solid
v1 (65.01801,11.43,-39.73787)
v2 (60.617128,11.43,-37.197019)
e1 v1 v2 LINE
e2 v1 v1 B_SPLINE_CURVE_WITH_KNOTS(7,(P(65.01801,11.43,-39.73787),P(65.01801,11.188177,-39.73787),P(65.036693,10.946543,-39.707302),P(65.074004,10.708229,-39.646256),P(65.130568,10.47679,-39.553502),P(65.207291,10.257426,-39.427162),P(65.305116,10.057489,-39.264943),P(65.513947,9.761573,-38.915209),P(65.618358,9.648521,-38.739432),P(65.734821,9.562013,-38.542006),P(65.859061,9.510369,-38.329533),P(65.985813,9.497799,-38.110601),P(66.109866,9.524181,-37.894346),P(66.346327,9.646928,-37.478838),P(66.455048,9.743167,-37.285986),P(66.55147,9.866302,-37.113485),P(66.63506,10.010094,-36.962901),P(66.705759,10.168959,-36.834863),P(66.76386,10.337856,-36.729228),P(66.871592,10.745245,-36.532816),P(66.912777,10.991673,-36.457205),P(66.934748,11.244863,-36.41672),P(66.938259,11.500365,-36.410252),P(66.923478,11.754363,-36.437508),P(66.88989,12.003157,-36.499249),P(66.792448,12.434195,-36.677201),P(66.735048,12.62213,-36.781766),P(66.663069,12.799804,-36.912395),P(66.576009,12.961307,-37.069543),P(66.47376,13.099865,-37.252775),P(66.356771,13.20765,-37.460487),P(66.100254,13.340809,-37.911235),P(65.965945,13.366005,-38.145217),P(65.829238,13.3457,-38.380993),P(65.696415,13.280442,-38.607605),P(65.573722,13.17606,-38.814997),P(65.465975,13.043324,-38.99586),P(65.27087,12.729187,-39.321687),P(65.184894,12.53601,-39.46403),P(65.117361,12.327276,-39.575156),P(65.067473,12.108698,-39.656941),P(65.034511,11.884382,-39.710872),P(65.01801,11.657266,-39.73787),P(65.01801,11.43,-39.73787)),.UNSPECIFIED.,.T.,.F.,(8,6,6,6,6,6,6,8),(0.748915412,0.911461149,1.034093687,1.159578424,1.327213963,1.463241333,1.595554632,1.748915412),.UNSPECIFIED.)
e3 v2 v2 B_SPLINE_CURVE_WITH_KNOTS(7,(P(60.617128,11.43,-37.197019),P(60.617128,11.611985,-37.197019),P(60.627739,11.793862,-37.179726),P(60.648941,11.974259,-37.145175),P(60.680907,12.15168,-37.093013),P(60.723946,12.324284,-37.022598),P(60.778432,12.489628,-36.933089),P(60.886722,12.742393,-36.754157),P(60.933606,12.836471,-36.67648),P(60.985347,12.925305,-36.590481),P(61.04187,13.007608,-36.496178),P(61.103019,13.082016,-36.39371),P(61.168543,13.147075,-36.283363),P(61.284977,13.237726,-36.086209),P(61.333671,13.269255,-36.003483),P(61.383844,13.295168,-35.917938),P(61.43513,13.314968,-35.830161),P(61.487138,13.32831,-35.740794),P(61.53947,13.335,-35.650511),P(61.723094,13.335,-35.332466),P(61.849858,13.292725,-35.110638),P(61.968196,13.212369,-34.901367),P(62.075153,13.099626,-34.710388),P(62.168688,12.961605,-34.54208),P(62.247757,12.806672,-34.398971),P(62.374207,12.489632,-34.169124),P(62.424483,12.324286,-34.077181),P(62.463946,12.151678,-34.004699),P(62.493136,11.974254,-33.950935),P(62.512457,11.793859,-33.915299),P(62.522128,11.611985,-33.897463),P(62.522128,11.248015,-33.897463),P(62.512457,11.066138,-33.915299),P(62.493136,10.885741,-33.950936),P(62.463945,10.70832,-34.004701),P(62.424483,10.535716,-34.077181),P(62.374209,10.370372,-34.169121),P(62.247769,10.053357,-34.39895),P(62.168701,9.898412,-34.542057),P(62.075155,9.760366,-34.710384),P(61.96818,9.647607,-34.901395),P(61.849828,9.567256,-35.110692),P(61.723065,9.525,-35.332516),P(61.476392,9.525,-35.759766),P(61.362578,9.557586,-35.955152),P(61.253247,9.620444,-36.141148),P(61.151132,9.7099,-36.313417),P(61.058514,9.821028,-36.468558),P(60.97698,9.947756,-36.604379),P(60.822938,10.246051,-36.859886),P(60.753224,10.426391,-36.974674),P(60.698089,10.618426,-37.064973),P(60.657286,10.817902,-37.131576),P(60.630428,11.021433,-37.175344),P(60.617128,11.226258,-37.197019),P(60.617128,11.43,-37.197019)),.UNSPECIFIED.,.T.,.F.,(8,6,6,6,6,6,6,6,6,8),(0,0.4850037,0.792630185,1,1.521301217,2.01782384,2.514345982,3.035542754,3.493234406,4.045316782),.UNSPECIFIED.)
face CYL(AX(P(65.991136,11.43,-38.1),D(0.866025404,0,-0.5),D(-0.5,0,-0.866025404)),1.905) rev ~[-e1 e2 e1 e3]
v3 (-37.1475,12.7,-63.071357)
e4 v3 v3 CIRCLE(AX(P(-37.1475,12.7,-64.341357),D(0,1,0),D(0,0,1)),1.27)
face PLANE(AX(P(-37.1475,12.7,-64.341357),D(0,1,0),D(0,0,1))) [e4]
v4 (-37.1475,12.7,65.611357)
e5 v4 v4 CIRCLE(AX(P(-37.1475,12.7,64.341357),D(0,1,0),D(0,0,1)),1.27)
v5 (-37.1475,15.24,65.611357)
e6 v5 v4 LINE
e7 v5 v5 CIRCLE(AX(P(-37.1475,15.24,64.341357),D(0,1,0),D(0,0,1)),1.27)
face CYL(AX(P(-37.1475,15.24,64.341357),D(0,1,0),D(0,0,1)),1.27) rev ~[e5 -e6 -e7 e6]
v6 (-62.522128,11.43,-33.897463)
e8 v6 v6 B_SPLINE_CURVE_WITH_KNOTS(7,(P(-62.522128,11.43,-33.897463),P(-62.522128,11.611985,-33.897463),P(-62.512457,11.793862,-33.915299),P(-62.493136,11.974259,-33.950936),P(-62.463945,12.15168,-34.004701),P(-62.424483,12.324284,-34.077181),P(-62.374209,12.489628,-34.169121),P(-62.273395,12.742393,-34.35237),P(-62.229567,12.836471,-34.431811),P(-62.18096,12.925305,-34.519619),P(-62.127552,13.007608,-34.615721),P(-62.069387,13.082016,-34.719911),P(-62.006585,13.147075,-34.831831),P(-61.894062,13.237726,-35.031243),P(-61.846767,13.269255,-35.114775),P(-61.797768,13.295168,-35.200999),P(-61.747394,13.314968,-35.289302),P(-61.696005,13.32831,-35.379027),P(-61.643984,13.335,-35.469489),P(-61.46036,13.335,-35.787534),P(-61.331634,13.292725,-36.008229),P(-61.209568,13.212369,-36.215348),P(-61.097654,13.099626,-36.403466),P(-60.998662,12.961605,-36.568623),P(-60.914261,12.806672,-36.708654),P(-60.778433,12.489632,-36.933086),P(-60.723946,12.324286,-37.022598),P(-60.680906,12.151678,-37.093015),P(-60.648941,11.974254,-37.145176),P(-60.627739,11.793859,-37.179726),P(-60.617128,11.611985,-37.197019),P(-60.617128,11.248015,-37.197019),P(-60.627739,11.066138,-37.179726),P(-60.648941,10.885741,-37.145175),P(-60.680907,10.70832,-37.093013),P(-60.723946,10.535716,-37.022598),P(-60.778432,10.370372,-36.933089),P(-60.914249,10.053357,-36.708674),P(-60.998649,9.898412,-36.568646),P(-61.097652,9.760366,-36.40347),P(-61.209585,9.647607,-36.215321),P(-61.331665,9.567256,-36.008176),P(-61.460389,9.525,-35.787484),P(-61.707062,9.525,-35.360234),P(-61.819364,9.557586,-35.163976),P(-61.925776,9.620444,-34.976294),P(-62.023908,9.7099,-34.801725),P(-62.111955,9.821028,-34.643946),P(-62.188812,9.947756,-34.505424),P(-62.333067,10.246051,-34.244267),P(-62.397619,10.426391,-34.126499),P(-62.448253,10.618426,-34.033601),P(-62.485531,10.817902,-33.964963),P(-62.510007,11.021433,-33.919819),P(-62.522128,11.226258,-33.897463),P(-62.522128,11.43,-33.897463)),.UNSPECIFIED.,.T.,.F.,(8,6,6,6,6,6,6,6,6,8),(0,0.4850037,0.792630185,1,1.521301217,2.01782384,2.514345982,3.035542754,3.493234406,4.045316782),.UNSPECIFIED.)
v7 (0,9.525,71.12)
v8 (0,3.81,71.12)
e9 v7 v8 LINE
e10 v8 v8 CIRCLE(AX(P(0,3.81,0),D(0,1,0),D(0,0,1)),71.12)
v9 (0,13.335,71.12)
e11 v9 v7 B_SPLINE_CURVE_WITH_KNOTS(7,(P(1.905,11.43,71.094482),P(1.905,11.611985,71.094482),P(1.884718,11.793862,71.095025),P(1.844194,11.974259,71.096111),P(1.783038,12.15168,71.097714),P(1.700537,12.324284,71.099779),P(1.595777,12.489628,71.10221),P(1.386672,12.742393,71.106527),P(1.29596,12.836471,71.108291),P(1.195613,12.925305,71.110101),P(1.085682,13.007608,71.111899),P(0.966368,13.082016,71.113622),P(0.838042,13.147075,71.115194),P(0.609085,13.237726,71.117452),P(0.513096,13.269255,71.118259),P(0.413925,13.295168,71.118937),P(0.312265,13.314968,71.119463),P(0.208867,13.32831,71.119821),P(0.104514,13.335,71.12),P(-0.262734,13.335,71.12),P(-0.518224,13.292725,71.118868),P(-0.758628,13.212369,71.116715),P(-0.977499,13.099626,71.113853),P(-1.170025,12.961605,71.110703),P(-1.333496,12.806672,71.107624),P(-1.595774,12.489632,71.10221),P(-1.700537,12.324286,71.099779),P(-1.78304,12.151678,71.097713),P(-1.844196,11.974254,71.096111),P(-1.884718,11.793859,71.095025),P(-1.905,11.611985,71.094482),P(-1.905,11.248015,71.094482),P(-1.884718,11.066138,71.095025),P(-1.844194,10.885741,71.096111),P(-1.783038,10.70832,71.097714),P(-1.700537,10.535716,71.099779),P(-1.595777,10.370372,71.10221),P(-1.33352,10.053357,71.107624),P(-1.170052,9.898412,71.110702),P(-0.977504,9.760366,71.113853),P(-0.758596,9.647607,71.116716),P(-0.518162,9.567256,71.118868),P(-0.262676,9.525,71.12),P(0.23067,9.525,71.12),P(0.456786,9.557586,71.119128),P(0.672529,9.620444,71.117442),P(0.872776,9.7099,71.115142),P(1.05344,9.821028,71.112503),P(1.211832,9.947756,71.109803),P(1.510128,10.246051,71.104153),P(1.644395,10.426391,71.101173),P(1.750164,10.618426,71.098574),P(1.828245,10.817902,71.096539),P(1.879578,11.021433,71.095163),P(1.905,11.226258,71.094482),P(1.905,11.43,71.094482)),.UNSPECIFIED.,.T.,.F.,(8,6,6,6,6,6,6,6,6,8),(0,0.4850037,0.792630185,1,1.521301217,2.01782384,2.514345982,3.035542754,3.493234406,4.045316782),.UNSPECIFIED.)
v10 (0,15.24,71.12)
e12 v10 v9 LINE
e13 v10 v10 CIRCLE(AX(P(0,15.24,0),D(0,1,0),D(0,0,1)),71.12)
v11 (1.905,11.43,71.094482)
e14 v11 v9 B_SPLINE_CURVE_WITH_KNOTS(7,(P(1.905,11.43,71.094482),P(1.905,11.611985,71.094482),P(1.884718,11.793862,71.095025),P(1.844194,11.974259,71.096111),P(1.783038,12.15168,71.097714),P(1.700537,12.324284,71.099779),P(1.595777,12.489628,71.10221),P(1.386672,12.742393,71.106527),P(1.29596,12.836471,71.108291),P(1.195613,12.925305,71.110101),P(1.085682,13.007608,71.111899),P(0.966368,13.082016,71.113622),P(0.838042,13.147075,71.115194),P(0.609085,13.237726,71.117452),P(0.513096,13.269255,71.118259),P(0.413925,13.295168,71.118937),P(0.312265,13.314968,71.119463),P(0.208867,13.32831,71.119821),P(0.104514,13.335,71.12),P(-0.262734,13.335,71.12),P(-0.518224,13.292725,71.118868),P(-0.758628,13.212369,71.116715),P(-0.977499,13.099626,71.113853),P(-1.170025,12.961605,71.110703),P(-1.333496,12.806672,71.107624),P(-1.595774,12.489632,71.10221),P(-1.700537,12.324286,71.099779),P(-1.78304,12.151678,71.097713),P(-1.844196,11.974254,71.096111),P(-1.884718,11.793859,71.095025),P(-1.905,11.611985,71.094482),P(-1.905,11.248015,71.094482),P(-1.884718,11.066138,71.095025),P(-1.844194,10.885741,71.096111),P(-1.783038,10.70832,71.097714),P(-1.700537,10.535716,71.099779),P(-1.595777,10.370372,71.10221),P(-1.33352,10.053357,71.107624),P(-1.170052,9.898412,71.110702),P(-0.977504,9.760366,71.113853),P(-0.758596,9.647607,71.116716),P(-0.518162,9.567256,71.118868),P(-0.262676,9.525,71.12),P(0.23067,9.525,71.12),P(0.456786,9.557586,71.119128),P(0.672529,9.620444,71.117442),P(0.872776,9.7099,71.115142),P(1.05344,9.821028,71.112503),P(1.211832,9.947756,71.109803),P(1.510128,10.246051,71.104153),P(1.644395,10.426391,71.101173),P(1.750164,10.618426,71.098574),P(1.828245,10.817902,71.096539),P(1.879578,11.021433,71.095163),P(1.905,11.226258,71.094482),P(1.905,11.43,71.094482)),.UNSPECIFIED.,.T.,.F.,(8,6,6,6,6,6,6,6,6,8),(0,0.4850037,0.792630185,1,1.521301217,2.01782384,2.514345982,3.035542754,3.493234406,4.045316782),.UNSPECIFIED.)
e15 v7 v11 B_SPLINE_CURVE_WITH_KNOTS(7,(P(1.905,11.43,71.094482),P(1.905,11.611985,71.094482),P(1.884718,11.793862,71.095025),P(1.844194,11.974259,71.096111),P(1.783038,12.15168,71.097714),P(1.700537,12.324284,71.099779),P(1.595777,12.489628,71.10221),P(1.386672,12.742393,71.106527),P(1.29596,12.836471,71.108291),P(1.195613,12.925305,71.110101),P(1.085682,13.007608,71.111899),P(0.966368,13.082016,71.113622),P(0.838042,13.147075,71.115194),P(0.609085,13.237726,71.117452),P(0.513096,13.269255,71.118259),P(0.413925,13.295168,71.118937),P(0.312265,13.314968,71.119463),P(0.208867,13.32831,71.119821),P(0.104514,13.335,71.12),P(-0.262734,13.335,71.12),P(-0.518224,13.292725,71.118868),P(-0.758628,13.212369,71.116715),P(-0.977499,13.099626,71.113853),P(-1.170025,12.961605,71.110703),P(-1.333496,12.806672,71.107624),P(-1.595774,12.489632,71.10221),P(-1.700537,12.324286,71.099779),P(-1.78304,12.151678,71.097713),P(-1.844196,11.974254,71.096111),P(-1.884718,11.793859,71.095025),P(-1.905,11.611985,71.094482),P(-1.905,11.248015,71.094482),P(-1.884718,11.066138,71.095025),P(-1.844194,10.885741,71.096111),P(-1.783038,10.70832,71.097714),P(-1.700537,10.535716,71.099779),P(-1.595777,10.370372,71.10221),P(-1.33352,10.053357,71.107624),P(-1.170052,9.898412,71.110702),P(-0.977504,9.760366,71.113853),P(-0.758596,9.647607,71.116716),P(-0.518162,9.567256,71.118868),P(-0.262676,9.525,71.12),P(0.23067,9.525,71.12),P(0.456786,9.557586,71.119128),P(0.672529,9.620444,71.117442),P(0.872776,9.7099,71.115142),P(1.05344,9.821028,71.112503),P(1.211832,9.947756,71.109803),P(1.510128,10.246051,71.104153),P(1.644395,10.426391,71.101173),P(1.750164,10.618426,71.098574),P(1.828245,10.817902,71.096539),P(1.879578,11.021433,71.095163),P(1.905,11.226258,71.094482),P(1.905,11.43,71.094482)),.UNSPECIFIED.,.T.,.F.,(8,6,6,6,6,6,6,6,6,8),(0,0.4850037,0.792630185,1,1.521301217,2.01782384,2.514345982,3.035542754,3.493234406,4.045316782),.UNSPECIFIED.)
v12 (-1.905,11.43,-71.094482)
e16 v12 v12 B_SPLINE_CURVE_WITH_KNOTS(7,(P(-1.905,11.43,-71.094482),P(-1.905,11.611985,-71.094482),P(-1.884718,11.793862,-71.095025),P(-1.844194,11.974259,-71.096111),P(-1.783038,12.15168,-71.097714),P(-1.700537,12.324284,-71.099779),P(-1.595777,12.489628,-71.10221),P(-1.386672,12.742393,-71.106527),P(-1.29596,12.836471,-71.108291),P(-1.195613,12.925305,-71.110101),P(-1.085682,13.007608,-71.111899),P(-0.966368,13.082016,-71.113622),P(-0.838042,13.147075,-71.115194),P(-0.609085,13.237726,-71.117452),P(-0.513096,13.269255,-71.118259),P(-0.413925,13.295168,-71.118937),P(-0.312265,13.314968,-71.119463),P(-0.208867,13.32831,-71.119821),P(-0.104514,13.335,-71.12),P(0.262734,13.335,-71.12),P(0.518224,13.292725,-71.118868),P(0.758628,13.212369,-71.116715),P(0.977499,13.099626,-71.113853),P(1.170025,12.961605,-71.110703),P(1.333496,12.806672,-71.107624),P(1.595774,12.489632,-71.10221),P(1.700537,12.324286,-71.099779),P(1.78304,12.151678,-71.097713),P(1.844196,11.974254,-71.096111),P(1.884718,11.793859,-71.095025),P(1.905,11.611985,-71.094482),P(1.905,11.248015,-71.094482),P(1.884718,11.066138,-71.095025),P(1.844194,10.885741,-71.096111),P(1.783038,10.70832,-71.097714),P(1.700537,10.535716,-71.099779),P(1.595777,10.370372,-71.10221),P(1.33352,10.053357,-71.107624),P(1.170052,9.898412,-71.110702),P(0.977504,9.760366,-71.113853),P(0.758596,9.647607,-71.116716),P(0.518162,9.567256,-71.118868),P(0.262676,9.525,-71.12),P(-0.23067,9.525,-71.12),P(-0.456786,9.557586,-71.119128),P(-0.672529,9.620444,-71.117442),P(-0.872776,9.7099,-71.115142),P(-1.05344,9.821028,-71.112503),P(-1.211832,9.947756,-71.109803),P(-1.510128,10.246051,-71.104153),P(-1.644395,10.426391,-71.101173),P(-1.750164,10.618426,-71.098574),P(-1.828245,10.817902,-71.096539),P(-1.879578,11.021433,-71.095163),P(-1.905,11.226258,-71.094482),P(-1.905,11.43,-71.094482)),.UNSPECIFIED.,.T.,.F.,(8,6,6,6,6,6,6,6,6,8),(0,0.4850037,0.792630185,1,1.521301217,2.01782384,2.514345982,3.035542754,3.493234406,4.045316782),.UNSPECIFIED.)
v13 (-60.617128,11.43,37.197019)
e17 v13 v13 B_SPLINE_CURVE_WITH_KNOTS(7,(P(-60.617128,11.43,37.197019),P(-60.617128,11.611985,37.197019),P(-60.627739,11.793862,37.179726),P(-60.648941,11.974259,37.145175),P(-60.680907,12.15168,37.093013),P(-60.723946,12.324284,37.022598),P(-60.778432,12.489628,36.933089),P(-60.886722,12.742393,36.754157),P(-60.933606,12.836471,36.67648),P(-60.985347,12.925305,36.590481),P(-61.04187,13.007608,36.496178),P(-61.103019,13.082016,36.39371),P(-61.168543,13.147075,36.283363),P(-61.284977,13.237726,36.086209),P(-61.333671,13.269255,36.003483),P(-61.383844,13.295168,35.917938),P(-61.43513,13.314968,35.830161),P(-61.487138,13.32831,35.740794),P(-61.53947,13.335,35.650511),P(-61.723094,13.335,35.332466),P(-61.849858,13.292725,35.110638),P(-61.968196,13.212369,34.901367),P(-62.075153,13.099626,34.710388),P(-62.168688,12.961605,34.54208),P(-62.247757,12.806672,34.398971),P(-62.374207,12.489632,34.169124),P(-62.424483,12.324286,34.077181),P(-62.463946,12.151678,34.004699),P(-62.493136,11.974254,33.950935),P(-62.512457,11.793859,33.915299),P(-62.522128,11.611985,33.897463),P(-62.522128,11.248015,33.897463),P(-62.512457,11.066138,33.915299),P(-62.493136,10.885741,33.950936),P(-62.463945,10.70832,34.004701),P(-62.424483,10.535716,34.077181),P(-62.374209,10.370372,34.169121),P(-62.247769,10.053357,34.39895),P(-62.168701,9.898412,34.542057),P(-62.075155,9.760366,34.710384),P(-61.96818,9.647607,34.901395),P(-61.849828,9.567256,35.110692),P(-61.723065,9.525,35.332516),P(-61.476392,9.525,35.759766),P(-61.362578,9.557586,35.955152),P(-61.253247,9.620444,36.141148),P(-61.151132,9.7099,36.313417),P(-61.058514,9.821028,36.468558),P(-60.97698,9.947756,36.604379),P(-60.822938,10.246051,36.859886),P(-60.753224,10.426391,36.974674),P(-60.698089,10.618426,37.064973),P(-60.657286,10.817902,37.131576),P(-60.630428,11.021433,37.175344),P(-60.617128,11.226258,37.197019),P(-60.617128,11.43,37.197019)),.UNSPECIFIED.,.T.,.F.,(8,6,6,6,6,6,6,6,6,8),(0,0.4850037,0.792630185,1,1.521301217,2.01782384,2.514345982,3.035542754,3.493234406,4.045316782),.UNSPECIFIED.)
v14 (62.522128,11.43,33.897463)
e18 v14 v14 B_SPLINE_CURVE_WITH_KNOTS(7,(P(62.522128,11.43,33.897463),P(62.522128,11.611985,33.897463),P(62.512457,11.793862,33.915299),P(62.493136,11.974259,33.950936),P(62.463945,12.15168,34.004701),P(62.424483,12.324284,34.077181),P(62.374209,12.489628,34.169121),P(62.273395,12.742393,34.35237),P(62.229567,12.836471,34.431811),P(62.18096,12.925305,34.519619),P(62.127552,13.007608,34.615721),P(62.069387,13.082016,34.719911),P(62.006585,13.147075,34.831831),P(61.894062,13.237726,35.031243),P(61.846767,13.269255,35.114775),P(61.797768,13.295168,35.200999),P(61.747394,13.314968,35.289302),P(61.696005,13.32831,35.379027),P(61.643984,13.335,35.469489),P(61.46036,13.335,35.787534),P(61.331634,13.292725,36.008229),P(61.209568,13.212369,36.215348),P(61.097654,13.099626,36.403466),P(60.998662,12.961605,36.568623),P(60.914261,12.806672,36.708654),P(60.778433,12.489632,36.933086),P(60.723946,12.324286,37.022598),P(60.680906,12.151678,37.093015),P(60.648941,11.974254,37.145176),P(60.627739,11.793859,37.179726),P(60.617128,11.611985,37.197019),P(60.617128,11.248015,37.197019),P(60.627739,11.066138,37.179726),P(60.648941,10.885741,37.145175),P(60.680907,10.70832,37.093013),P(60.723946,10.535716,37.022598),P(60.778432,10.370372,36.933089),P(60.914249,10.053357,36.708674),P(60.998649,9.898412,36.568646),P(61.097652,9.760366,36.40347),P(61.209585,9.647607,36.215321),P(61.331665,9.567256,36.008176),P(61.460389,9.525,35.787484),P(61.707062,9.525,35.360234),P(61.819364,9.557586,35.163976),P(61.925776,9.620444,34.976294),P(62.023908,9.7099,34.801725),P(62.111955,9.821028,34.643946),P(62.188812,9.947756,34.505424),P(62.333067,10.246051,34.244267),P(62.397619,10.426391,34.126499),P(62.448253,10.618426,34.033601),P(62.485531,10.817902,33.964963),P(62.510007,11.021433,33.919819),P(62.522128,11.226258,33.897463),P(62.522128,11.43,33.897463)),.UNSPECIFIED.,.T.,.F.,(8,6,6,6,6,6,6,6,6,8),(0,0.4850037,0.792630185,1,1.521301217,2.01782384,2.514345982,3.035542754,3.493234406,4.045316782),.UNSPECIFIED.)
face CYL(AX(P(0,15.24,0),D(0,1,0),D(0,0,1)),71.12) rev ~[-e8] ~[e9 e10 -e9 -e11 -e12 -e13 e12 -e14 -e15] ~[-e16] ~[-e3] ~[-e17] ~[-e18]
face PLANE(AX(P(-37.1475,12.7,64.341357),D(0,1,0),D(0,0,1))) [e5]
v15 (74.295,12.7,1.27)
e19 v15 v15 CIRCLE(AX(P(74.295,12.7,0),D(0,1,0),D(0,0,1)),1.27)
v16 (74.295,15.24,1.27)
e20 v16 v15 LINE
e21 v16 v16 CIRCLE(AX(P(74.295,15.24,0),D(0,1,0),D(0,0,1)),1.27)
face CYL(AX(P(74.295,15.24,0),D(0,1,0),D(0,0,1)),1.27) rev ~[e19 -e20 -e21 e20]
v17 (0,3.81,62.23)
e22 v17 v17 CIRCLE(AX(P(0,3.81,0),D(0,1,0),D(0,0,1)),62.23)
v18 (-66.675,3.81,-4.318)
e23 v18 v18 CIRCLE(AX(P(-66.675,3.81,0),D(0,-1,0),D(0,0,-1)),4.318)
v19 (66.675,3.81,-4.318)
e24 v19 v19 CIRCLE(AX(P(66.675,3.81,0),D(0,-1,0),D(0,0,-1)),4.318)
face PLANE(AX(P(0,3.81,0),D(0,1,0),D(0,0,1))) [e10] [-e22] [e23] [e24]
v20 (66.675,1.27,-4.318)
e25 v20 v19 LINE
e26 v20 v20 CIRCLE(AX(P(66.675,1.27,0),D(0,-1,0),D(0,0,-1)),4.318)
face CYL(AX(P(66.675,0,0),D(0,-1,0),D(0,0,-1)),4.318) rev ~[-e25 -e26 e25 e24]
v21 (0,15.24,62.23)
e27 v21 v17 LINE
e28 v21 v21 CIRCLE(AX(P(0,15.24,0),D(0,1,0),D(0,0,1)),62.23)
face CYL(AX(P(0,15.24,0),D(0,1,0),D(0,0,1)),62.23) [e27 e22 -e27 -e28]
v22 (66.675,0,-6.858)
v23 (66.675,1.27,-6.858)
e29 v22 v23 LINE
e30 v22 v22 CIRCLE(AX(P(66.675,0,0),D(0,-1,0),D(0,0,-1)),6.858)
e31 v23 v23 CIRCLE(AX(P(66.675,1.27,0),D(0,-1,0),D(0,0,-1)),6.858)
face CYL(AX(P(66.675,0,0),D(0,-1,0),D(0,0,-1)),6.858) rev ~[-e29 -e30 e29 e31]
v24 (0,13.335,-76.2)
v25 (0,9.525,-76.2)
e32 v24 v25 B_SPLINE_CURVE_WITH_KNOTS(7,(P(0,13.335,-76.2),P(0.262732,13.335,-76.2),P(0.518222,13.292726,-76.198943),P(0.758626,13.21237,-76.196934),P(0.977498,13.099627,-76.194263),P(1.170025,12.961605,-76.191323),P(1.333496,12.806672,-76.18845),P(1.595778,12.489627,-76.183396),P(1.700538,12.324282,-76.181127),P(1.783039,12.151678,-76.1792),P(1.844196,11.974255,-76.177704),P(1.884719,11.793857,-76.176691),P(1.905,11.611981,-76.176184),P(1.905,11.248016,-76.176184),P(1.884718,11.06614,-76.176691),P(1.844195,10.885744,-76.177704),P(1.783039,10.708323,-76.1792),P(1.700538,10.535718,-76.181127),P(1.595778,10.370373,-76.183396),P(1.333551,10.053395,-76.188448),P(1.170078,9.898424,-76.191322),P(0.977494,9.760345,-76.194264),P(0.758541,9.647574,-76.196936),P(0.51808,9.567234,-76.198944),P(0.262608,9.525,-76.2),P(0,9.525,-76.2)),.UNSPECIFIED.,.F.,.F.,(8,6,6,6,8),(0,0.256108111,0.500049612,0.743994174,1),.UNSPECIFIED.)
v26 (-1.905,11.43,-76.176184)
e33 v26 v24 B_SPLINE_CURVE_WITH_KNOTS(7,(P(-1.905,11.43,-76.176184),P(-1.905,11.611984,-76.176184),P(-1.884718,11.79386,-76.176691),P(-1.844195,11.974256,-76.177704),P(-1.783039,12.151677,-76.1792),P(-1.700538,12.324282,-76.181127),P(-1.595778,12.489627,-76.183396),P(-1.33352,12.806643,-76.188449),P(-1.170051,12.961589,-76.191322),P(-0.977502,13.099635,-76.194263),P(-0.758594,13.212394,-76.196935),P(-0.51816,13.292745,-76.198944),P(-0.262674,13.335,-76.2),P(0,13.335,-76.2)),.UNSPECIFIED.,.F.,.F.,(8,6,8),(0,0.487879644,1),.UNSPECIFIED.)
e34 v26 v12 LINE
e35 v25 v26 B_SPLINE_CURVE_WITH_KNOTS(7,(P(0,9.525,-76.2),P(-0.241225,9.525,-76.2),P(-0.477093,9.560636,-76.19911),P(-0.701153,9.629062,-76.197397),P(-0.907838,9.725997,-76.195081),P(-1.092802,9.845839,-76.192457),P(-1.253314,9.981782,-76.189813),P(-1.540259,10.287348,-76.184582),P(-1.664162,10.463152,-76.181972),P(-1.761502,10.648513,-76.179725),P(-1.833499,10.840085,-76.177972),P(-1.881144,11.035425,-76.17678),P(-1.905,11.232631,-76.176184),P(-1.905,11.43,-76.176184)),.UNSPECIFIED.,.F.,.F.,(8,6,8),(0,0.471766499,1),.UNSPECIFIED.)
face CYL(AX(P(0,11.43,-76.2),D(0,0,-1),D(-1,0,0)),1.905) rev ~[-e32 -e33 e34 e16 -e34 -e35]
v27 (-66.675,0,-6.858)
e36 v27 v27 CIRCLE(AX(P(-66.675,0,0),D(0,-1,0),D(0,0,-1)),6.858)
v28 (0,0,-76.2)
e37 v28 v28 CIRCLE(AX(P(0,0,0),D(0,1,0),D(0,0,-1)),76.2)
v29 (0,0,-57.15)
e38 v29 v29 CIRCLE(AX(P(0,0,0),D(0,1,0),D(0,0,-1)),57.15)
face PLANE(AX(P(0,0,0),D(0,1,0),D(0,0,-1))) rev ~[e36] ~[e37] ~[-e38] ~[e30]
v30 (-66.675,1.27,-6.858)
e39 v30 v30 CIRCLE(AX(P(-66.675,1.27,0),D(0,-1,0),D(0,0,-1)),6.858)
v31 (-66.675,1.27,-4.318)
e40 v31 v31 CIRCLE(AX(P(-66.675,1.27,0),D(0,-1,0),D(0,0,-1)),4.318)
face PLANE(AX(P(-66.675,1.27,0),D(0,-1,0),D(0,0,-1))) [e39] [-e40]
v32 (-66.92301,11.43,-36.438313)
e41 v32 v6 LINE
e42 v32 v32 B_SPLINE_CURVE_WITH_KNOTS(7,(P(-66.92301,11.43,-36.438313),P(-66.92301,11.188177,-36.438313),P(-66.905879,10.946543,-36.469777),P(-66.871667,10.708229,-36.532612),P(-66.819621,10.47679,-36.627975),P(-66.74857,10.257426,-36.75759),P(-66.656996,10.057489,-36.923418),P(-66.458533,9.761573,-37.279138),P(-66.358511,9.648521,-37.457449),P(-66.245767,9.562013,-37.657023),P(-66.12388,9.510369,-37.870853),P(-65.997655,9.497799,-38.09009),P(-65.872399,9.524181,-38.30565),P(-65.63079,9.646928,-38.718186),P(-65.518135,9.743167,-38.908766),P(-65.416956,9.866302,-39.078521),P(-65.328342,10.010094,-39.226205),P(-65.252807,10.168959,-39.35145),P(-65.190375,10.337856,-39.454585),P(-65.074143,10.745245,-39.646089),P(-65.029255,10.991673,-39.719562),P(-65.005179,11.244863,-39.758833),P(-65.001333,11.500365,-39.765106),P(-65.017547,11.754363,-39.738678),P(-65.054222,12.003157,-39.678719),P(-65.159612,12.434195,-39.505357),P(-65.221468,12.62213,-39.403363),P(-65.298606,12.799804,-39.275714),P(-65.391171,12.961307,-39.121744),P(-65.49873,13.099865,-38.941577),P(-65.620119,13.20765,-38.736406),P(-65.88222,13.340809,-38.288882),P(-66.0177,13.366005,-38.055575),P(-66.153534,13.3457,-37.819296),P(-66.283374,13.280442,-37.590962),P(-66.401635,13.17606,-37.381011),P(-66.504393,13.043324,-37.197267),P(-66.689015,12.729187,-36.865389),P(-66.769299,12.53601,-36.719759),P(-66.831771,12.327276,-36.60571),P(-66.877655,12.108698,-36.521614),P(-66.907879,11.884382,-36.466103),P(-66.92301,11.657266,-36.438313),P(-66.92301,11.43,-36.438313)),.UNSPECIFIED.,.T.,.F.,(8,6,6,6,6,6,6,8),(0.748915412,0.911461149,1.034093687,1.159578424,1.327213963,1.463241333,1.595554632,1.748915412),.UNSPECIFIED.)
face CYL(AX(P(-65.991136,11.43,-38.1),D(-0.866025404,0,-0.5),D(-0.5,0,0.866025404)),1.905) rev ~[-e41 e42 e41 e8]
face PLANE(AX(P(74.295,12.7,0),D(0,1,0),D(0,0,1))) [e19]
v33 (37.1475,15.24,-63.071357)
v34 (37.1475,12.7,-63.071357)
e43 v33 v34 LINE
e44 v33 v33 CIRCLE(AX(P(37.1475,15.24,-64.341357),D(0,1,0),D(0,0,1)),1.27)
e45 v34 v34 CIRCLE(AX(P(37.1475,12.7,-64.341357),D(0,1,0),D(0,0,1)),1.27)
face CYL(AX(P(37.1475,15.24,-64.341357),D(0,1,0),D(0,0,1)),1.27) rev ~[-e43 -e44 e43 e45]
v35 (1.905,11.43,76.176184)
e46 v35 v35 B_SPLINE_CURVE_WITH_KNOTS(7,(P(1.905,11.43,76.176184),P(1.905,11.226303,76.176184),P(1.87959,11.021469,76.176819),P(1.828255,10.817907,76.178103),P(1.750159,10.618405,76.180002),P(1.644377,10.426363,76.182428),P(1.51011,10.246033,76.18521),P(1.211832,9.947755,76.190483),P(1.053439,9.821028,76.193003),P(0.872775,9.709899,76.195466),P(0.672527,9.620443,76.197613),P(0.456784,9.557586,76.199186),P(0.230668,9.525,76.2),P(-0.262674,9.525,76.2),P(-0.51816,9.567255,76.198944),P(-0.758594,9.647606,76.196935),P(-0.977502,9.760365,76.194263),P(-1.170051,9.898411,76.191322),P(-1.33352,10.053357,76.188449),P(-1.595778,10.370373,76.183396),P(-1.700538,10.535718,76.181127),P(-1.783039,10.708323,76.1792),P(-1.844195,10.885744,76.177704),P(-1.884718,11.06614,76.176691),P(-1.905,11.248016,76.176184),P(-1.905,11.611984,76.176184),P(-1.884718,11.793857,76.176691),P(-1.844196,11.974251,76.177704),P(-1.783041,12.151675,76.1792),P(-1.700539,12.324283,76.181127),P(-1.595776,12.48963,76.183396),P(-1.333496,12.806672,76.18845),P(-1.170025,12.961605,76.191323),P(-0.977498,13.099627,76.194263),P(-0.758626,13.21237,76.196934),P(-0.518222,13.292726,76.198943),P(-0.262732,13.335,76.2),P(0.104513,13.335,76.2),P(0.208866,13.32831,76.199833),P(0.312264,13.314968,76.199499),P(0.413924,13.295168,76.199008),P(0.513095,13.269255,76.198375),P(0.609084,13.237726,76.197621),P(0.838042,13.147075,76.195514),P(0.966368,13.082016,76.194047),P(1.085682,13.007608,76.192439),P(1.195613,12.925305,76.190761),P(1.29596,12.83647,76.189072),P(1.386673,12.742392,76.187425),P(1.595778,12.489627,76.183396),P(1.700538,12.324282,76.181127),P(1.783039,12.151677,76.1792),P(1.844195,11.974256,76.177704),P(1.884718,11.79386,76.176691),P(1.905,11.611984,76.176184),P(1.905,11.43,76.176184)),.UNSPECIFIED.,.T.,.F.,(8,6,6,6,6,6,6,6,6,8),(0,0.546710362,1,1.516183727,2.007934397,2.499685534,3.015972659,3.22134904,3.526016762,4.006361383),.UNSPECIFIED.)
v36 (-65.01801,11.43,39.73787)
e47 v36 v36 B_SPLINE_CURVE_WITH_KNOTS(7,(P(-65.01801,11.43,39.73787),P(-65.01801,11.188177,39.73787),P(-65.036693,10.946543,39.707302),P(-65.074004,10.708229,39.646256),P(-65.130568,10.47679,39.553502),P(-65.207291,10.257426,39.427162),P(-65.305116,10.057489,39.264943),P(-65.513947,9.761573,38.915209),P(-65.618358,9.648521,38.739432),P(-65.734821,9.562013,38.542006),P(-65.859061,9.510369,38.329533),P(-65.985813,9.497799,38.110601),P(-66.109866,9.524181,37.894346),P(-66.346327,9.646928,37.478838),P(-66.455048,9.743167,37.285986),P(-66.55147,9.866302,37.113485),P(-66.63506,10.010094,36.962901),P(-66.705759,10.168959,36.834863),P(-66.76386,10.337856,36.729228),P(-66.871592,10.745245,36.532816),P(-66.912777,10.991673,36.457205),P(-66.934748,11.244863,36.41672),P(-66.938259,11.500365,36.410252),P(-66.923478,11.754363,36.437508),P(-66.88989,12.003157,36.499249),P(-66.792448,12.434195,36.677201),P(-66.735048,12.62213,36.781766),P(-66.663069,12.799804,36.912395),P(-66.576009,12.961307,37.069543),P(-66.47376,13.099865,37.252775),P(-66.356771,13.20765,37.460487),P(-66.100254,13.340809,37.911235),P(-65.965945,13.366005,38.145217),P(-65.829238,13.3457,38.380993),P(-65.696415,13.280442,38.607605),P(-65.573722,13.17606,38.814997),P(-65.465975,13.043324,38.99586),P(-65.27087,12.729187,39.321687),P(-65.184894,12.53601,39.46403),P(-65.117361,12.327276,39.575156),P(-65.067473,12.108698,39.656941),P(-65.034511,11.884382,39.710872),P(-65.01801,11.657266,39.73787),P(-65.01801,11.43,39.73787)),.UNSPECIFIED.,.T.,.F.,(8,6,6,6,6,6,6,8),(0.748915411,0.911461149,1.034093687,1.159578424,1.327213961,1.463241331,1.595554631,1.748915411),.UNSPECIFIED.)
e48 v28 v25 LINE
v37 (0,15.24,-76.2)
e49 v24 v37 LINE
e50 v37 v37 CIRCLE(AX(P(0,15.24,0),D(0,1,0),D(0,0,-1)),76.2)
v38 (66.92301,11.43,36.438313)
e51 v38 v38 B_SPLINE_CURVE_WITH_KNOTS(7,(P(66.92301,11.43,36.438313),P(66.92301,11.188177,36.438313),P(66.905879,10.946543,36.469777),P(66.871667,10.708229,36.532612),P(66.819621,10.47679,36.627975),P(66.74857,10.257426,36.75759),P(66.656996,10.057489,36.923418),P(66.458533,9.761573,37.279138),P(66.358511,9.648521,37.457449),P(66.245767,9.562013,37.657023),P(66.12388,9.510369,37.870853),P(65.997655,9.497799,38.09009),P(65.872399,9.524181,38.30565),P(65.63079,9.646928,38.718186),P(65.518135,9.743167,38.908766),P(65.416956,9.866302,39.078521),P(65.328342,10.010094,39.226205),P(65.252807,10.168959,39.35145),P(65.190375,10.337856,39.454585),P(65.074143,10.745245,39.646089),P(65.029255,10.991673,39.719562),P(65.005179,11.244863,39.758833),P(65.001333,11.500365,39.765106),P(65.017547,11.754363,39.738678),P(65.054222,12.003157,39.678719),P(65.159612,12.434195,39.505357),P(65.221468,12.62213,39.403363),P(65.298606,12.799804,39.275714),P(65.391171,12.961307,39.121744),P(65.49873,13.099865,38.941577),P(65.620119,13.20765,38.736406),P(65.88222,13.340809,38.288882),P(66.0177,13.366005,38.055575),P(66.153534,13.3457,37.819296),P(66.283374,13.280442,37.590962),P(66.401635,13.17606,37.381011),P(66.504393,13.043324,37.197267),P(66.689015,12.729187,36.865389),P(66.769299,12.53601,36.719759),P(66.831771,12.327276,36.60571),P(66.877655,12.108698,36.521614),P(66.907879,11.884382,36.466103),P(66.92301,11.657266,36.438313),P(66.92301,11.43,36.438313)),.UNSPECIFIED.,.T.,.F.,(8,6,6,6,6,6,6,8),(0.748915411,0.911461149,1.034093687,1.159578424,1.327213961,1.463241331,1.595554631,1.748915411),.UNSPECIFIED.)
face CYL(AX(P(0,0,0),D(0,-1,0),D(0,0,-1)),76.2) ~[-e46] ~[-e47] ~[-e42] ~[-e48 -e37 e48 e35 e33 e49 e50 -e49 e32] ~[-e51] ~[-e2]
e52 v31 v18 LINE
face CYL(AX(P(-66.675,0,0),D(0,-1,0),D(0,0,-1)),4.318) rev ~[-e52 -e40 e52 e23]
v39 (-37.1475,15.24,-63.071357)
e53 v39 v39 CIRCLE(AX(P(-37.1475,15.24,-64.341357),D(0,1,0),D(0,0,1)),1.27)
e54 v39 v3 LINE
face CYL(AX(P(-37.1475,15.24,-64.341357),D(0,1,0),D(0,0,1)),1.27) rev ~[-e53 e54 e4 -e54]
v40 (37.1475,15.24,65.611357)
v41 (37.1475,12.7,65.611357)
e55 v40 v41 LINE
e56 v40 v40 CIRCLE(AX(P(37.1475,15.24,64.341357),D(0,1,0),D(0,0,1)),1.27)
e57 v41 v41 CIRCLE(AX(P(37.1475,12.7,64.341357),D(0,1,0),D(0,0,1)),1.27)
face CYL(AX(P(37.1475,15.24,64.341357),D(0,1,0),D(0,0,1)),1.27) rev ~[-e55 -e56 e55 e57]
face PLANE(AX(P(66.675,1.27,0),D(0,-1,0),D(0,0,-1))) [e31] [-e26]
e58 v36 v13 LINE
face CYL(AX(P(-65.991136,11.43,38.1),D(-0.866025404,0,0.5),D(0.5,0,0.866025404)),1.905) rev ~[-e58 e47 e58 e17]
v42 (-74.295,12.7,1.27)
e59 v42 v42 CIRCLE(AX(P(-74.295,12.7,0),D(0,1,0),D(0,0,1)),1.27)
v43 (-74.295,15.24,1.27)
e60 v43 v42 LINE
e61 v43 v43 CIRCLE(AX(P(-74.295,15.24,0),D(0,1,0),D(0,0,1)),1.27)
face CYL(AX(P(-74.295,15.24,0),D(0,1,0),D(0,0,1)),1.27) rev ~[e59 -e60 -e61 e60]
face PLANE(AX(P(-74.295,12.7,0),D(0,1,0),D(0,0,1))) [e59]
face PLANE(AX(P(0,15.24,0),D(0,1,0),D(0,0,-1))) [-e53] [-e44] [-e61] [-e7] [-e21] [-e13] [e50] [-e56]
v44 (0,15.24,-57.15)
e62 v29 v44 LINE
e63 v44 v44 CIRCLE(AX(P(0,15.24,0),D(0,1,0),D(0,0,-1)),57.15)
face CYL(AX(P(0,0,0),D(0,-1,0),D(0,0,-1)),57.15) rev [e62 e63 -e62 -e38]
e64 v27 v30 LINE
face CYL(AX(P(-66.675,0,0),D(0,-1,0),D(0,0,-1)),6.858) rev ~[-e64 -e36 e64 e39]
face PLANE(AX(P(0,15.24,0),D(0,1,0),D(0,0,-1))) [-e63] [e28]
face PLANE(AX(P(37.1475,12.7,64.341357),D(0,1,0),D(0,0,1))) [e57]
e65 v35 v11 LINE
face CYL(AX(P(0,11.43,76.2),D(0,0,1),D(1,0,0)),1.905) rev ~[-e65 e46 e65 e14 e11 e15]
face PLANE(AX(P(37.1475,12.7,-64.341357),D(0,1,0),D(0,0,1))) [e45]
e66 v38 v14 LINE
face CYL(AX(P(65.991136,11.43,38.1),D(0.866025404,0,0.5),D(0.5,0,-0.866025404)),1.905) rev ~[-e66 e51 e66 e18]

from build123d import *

# Parameters (mm, degrees)
SKETCH1_R               = 76.2
SKETCH1_R_2             = 57.15
BOSS_EXTRUDE1_DEPTH     = 15.24
SKETCH2_R               = 71.12
SKETCH2_R_2             = 62.23
CUT_EXTRUDE1_DEPTH      = 11.43
CUT_EXTRUDE2_REACH      = 110.835
SKETCH3_R               = 4.318
SKETCH4_R               = 6.858
CUT_EXTRUDE3_DEPTH      = 1.27
CUT_EXTRUDE4_REACH      = 173.069
CUT_EXTRUDE4_END_RADIUS = 71.12
SKETCH5_R               = 1.905
CIRPATTERN1_COUNT       = 6
SKETCH6_R               = 1.27
CUT_EXTRUDE5_DEPTH      = 2.54


with BuildPart() as part:
    # Sketch1 → Boss-Extrude1 (new body)
    with BuildSketch(Plane(origin=(0, 0, 0), x_dir=(1, 0, 0), z_dir=(0, 1, 0))):
        with Locations(Location((0, 0, 0), (0, 0, 90))):
            Circle(SKETCH1_R)
        with Locations(Location((0, 0, 0), (0, 0, 90))):
            Circle(SKETCH1_R_2, mode=Mode.SUBTRACT)
    extrude(amount=BOSS_EXTRUDE1_DEPTH)

    # Sketch2 → Cut-Extrude1 (cut)
    with BuildSketch(Plane(origin=(0, 15.24, 0), x_dir=(1, 0, 0), z_dir=(0, 1, 0))):
        with Locations(Location((0, 0, 0), (0, 0, 270))):
            Circle(SKETCH2_R)
        with Locations(Location((0, 0, 0), (0, 0, 270))):
            Circle(SKETCH2_R_2, mode=Mode.SUBTRACT)
    extrude(amount=-CUT_EXTRUDE1_DEPTH, mode=Mode.SUBTRACT)

    # Sketch3 → Cut-Extrude2 (cut, up to next)
    with BuildSketch(Plane.XZ, mode=Mode.PRIVATE) as cut_extrude2_sk1:
        with Locations(Location((-66.675, 0, 0), (0, 0, 270))):
            Circle(SKETCH3_R)
    cut_extrude2_tool1 = extrude(cut_extrude2_sk1.sketch, amount=-CUT_EXTRUDE2_REACH, mode=Mode.PRIVATE) & part.part
    # Sketch3 → Cut-Extrude2 (cut, up to next)
    with BuildSketch(Plane.XZ, mode=Mode.PRIVATE) as cut_extrude2_sk2:
        with Locations(Location((66.675, 0, 0), (0, 0, 270))):
            Circle(SKETCH3_R)
    cut_extrude2_tool2 = extrude(cut_extrude2_sk2.sketch, amount=-CUT_EXTRUDE2_REACH, mode=Mode.PRIVATE) & part.part
    add(cut_extrude2_tool1.solids().sort_by_distance((-66.675, 0, 0))[0], mode=Mode.SUBTRACT)
    add(cut_extrude2_tool2.solids().sort_by_distance((66.675, 0, 0))[0], mode=Mode.SUBTRACT)

    # Sketch4 → Cut-Extrude3 (cut)
    with BuildSketch(Plane.XZ):
        with Locations(Location((-66.675, 0, 0), (0, 0, 270))):
            Circle(SKETCH4_R)
        with Locations(Location((66.675, 0, 0), (0, 0, 270))):
            Circle(SKETCH4_R)
    extrude(amount=-CUT_EXTRUDE3_DEPTH, mode=Mode.SUBTRACT)

    # Cut-Extrude4: up to this cylinder (the profile starts outside it)
    cut_extrude4_end = Plane(origin=(0, 11.43, 0), z_dir=(0, 1, 0)) * Cylinder(CUT_EXTRUDE4_END_RADIUS, 489.378, mode=Mode.PRIVATE)
    # Sketch5 → Cut-Extrude4 (cut, up to the surface)
    with BuildSketch(Plane.XY.offset(76.2), mode=Mode.PRIVATE) as cut_extrude4_sk1:
        with Locations((0, 11.43)):
            Circle(SKETCH5_R)
    cut_extrude4_tool1 = extrude(cut_extrude4_sk1.sketch, amount=-CUT_EXTRUDE4_REACH, mode=Mode.PRIVATE) - cut_extrude4_end
    cut_extrude4 = cut_extrude4_tool1.solids().sort_by_distance((0, 11.43, 76.2))[0]
    add(cut_extrude4, mode=Mode.SUBTRACT)

    # CirPattern1: Cut-Extrude4 ×6 about axis
    cirpattern1_axis = Axis((0, 15.24, 0), (0, -1, 0))
    for i in range(1, CIRPATTERN1_COUNT):
        add(cut_extrude4.rotate(cirpattern1_axis, i * 360 / CIRPATTERN1_COUNT), mode=Mode.SUBTRACT)

    # Sketch6 → Cut-Extrude5 (cut)
    with BuildSketch(Plane(origin=(0, 15.24, 0), x_dir=(1, 0, 0), z_dir=(0, 1, 0))):
        with Locations(Location((37.1475, 64.341357374, 0), (0, 0, 270))):
            Circle(SKETCH6_R)
        with Locations(Location((74.295, 0, 0), (0, 0, 270))):
            Circle(SKETCH6_R)
        with Locations(Location((37.1475, -64.341357374, 0), (0, 0, 270))):
            Circle(SKETCH6_R)
        with Locations(Location((-37.1475, -64.341357374, 0), (0, 0, 270))):
            Circle(SKETCH6_R)
        with Locations(Location((-74.295, 0, 0), (0, 0, 270))):
            Circle(SKETCH6_R)
        with Locations(Location((-37.1475, 64.341357374, 0), (0, 0, 270))):
            Circle(SKETCH6_R)
    extrude(amount=-CUT_EXTRUDE5_DEPTH, mode=Mode.SUBTRACT)


solid = part.part
